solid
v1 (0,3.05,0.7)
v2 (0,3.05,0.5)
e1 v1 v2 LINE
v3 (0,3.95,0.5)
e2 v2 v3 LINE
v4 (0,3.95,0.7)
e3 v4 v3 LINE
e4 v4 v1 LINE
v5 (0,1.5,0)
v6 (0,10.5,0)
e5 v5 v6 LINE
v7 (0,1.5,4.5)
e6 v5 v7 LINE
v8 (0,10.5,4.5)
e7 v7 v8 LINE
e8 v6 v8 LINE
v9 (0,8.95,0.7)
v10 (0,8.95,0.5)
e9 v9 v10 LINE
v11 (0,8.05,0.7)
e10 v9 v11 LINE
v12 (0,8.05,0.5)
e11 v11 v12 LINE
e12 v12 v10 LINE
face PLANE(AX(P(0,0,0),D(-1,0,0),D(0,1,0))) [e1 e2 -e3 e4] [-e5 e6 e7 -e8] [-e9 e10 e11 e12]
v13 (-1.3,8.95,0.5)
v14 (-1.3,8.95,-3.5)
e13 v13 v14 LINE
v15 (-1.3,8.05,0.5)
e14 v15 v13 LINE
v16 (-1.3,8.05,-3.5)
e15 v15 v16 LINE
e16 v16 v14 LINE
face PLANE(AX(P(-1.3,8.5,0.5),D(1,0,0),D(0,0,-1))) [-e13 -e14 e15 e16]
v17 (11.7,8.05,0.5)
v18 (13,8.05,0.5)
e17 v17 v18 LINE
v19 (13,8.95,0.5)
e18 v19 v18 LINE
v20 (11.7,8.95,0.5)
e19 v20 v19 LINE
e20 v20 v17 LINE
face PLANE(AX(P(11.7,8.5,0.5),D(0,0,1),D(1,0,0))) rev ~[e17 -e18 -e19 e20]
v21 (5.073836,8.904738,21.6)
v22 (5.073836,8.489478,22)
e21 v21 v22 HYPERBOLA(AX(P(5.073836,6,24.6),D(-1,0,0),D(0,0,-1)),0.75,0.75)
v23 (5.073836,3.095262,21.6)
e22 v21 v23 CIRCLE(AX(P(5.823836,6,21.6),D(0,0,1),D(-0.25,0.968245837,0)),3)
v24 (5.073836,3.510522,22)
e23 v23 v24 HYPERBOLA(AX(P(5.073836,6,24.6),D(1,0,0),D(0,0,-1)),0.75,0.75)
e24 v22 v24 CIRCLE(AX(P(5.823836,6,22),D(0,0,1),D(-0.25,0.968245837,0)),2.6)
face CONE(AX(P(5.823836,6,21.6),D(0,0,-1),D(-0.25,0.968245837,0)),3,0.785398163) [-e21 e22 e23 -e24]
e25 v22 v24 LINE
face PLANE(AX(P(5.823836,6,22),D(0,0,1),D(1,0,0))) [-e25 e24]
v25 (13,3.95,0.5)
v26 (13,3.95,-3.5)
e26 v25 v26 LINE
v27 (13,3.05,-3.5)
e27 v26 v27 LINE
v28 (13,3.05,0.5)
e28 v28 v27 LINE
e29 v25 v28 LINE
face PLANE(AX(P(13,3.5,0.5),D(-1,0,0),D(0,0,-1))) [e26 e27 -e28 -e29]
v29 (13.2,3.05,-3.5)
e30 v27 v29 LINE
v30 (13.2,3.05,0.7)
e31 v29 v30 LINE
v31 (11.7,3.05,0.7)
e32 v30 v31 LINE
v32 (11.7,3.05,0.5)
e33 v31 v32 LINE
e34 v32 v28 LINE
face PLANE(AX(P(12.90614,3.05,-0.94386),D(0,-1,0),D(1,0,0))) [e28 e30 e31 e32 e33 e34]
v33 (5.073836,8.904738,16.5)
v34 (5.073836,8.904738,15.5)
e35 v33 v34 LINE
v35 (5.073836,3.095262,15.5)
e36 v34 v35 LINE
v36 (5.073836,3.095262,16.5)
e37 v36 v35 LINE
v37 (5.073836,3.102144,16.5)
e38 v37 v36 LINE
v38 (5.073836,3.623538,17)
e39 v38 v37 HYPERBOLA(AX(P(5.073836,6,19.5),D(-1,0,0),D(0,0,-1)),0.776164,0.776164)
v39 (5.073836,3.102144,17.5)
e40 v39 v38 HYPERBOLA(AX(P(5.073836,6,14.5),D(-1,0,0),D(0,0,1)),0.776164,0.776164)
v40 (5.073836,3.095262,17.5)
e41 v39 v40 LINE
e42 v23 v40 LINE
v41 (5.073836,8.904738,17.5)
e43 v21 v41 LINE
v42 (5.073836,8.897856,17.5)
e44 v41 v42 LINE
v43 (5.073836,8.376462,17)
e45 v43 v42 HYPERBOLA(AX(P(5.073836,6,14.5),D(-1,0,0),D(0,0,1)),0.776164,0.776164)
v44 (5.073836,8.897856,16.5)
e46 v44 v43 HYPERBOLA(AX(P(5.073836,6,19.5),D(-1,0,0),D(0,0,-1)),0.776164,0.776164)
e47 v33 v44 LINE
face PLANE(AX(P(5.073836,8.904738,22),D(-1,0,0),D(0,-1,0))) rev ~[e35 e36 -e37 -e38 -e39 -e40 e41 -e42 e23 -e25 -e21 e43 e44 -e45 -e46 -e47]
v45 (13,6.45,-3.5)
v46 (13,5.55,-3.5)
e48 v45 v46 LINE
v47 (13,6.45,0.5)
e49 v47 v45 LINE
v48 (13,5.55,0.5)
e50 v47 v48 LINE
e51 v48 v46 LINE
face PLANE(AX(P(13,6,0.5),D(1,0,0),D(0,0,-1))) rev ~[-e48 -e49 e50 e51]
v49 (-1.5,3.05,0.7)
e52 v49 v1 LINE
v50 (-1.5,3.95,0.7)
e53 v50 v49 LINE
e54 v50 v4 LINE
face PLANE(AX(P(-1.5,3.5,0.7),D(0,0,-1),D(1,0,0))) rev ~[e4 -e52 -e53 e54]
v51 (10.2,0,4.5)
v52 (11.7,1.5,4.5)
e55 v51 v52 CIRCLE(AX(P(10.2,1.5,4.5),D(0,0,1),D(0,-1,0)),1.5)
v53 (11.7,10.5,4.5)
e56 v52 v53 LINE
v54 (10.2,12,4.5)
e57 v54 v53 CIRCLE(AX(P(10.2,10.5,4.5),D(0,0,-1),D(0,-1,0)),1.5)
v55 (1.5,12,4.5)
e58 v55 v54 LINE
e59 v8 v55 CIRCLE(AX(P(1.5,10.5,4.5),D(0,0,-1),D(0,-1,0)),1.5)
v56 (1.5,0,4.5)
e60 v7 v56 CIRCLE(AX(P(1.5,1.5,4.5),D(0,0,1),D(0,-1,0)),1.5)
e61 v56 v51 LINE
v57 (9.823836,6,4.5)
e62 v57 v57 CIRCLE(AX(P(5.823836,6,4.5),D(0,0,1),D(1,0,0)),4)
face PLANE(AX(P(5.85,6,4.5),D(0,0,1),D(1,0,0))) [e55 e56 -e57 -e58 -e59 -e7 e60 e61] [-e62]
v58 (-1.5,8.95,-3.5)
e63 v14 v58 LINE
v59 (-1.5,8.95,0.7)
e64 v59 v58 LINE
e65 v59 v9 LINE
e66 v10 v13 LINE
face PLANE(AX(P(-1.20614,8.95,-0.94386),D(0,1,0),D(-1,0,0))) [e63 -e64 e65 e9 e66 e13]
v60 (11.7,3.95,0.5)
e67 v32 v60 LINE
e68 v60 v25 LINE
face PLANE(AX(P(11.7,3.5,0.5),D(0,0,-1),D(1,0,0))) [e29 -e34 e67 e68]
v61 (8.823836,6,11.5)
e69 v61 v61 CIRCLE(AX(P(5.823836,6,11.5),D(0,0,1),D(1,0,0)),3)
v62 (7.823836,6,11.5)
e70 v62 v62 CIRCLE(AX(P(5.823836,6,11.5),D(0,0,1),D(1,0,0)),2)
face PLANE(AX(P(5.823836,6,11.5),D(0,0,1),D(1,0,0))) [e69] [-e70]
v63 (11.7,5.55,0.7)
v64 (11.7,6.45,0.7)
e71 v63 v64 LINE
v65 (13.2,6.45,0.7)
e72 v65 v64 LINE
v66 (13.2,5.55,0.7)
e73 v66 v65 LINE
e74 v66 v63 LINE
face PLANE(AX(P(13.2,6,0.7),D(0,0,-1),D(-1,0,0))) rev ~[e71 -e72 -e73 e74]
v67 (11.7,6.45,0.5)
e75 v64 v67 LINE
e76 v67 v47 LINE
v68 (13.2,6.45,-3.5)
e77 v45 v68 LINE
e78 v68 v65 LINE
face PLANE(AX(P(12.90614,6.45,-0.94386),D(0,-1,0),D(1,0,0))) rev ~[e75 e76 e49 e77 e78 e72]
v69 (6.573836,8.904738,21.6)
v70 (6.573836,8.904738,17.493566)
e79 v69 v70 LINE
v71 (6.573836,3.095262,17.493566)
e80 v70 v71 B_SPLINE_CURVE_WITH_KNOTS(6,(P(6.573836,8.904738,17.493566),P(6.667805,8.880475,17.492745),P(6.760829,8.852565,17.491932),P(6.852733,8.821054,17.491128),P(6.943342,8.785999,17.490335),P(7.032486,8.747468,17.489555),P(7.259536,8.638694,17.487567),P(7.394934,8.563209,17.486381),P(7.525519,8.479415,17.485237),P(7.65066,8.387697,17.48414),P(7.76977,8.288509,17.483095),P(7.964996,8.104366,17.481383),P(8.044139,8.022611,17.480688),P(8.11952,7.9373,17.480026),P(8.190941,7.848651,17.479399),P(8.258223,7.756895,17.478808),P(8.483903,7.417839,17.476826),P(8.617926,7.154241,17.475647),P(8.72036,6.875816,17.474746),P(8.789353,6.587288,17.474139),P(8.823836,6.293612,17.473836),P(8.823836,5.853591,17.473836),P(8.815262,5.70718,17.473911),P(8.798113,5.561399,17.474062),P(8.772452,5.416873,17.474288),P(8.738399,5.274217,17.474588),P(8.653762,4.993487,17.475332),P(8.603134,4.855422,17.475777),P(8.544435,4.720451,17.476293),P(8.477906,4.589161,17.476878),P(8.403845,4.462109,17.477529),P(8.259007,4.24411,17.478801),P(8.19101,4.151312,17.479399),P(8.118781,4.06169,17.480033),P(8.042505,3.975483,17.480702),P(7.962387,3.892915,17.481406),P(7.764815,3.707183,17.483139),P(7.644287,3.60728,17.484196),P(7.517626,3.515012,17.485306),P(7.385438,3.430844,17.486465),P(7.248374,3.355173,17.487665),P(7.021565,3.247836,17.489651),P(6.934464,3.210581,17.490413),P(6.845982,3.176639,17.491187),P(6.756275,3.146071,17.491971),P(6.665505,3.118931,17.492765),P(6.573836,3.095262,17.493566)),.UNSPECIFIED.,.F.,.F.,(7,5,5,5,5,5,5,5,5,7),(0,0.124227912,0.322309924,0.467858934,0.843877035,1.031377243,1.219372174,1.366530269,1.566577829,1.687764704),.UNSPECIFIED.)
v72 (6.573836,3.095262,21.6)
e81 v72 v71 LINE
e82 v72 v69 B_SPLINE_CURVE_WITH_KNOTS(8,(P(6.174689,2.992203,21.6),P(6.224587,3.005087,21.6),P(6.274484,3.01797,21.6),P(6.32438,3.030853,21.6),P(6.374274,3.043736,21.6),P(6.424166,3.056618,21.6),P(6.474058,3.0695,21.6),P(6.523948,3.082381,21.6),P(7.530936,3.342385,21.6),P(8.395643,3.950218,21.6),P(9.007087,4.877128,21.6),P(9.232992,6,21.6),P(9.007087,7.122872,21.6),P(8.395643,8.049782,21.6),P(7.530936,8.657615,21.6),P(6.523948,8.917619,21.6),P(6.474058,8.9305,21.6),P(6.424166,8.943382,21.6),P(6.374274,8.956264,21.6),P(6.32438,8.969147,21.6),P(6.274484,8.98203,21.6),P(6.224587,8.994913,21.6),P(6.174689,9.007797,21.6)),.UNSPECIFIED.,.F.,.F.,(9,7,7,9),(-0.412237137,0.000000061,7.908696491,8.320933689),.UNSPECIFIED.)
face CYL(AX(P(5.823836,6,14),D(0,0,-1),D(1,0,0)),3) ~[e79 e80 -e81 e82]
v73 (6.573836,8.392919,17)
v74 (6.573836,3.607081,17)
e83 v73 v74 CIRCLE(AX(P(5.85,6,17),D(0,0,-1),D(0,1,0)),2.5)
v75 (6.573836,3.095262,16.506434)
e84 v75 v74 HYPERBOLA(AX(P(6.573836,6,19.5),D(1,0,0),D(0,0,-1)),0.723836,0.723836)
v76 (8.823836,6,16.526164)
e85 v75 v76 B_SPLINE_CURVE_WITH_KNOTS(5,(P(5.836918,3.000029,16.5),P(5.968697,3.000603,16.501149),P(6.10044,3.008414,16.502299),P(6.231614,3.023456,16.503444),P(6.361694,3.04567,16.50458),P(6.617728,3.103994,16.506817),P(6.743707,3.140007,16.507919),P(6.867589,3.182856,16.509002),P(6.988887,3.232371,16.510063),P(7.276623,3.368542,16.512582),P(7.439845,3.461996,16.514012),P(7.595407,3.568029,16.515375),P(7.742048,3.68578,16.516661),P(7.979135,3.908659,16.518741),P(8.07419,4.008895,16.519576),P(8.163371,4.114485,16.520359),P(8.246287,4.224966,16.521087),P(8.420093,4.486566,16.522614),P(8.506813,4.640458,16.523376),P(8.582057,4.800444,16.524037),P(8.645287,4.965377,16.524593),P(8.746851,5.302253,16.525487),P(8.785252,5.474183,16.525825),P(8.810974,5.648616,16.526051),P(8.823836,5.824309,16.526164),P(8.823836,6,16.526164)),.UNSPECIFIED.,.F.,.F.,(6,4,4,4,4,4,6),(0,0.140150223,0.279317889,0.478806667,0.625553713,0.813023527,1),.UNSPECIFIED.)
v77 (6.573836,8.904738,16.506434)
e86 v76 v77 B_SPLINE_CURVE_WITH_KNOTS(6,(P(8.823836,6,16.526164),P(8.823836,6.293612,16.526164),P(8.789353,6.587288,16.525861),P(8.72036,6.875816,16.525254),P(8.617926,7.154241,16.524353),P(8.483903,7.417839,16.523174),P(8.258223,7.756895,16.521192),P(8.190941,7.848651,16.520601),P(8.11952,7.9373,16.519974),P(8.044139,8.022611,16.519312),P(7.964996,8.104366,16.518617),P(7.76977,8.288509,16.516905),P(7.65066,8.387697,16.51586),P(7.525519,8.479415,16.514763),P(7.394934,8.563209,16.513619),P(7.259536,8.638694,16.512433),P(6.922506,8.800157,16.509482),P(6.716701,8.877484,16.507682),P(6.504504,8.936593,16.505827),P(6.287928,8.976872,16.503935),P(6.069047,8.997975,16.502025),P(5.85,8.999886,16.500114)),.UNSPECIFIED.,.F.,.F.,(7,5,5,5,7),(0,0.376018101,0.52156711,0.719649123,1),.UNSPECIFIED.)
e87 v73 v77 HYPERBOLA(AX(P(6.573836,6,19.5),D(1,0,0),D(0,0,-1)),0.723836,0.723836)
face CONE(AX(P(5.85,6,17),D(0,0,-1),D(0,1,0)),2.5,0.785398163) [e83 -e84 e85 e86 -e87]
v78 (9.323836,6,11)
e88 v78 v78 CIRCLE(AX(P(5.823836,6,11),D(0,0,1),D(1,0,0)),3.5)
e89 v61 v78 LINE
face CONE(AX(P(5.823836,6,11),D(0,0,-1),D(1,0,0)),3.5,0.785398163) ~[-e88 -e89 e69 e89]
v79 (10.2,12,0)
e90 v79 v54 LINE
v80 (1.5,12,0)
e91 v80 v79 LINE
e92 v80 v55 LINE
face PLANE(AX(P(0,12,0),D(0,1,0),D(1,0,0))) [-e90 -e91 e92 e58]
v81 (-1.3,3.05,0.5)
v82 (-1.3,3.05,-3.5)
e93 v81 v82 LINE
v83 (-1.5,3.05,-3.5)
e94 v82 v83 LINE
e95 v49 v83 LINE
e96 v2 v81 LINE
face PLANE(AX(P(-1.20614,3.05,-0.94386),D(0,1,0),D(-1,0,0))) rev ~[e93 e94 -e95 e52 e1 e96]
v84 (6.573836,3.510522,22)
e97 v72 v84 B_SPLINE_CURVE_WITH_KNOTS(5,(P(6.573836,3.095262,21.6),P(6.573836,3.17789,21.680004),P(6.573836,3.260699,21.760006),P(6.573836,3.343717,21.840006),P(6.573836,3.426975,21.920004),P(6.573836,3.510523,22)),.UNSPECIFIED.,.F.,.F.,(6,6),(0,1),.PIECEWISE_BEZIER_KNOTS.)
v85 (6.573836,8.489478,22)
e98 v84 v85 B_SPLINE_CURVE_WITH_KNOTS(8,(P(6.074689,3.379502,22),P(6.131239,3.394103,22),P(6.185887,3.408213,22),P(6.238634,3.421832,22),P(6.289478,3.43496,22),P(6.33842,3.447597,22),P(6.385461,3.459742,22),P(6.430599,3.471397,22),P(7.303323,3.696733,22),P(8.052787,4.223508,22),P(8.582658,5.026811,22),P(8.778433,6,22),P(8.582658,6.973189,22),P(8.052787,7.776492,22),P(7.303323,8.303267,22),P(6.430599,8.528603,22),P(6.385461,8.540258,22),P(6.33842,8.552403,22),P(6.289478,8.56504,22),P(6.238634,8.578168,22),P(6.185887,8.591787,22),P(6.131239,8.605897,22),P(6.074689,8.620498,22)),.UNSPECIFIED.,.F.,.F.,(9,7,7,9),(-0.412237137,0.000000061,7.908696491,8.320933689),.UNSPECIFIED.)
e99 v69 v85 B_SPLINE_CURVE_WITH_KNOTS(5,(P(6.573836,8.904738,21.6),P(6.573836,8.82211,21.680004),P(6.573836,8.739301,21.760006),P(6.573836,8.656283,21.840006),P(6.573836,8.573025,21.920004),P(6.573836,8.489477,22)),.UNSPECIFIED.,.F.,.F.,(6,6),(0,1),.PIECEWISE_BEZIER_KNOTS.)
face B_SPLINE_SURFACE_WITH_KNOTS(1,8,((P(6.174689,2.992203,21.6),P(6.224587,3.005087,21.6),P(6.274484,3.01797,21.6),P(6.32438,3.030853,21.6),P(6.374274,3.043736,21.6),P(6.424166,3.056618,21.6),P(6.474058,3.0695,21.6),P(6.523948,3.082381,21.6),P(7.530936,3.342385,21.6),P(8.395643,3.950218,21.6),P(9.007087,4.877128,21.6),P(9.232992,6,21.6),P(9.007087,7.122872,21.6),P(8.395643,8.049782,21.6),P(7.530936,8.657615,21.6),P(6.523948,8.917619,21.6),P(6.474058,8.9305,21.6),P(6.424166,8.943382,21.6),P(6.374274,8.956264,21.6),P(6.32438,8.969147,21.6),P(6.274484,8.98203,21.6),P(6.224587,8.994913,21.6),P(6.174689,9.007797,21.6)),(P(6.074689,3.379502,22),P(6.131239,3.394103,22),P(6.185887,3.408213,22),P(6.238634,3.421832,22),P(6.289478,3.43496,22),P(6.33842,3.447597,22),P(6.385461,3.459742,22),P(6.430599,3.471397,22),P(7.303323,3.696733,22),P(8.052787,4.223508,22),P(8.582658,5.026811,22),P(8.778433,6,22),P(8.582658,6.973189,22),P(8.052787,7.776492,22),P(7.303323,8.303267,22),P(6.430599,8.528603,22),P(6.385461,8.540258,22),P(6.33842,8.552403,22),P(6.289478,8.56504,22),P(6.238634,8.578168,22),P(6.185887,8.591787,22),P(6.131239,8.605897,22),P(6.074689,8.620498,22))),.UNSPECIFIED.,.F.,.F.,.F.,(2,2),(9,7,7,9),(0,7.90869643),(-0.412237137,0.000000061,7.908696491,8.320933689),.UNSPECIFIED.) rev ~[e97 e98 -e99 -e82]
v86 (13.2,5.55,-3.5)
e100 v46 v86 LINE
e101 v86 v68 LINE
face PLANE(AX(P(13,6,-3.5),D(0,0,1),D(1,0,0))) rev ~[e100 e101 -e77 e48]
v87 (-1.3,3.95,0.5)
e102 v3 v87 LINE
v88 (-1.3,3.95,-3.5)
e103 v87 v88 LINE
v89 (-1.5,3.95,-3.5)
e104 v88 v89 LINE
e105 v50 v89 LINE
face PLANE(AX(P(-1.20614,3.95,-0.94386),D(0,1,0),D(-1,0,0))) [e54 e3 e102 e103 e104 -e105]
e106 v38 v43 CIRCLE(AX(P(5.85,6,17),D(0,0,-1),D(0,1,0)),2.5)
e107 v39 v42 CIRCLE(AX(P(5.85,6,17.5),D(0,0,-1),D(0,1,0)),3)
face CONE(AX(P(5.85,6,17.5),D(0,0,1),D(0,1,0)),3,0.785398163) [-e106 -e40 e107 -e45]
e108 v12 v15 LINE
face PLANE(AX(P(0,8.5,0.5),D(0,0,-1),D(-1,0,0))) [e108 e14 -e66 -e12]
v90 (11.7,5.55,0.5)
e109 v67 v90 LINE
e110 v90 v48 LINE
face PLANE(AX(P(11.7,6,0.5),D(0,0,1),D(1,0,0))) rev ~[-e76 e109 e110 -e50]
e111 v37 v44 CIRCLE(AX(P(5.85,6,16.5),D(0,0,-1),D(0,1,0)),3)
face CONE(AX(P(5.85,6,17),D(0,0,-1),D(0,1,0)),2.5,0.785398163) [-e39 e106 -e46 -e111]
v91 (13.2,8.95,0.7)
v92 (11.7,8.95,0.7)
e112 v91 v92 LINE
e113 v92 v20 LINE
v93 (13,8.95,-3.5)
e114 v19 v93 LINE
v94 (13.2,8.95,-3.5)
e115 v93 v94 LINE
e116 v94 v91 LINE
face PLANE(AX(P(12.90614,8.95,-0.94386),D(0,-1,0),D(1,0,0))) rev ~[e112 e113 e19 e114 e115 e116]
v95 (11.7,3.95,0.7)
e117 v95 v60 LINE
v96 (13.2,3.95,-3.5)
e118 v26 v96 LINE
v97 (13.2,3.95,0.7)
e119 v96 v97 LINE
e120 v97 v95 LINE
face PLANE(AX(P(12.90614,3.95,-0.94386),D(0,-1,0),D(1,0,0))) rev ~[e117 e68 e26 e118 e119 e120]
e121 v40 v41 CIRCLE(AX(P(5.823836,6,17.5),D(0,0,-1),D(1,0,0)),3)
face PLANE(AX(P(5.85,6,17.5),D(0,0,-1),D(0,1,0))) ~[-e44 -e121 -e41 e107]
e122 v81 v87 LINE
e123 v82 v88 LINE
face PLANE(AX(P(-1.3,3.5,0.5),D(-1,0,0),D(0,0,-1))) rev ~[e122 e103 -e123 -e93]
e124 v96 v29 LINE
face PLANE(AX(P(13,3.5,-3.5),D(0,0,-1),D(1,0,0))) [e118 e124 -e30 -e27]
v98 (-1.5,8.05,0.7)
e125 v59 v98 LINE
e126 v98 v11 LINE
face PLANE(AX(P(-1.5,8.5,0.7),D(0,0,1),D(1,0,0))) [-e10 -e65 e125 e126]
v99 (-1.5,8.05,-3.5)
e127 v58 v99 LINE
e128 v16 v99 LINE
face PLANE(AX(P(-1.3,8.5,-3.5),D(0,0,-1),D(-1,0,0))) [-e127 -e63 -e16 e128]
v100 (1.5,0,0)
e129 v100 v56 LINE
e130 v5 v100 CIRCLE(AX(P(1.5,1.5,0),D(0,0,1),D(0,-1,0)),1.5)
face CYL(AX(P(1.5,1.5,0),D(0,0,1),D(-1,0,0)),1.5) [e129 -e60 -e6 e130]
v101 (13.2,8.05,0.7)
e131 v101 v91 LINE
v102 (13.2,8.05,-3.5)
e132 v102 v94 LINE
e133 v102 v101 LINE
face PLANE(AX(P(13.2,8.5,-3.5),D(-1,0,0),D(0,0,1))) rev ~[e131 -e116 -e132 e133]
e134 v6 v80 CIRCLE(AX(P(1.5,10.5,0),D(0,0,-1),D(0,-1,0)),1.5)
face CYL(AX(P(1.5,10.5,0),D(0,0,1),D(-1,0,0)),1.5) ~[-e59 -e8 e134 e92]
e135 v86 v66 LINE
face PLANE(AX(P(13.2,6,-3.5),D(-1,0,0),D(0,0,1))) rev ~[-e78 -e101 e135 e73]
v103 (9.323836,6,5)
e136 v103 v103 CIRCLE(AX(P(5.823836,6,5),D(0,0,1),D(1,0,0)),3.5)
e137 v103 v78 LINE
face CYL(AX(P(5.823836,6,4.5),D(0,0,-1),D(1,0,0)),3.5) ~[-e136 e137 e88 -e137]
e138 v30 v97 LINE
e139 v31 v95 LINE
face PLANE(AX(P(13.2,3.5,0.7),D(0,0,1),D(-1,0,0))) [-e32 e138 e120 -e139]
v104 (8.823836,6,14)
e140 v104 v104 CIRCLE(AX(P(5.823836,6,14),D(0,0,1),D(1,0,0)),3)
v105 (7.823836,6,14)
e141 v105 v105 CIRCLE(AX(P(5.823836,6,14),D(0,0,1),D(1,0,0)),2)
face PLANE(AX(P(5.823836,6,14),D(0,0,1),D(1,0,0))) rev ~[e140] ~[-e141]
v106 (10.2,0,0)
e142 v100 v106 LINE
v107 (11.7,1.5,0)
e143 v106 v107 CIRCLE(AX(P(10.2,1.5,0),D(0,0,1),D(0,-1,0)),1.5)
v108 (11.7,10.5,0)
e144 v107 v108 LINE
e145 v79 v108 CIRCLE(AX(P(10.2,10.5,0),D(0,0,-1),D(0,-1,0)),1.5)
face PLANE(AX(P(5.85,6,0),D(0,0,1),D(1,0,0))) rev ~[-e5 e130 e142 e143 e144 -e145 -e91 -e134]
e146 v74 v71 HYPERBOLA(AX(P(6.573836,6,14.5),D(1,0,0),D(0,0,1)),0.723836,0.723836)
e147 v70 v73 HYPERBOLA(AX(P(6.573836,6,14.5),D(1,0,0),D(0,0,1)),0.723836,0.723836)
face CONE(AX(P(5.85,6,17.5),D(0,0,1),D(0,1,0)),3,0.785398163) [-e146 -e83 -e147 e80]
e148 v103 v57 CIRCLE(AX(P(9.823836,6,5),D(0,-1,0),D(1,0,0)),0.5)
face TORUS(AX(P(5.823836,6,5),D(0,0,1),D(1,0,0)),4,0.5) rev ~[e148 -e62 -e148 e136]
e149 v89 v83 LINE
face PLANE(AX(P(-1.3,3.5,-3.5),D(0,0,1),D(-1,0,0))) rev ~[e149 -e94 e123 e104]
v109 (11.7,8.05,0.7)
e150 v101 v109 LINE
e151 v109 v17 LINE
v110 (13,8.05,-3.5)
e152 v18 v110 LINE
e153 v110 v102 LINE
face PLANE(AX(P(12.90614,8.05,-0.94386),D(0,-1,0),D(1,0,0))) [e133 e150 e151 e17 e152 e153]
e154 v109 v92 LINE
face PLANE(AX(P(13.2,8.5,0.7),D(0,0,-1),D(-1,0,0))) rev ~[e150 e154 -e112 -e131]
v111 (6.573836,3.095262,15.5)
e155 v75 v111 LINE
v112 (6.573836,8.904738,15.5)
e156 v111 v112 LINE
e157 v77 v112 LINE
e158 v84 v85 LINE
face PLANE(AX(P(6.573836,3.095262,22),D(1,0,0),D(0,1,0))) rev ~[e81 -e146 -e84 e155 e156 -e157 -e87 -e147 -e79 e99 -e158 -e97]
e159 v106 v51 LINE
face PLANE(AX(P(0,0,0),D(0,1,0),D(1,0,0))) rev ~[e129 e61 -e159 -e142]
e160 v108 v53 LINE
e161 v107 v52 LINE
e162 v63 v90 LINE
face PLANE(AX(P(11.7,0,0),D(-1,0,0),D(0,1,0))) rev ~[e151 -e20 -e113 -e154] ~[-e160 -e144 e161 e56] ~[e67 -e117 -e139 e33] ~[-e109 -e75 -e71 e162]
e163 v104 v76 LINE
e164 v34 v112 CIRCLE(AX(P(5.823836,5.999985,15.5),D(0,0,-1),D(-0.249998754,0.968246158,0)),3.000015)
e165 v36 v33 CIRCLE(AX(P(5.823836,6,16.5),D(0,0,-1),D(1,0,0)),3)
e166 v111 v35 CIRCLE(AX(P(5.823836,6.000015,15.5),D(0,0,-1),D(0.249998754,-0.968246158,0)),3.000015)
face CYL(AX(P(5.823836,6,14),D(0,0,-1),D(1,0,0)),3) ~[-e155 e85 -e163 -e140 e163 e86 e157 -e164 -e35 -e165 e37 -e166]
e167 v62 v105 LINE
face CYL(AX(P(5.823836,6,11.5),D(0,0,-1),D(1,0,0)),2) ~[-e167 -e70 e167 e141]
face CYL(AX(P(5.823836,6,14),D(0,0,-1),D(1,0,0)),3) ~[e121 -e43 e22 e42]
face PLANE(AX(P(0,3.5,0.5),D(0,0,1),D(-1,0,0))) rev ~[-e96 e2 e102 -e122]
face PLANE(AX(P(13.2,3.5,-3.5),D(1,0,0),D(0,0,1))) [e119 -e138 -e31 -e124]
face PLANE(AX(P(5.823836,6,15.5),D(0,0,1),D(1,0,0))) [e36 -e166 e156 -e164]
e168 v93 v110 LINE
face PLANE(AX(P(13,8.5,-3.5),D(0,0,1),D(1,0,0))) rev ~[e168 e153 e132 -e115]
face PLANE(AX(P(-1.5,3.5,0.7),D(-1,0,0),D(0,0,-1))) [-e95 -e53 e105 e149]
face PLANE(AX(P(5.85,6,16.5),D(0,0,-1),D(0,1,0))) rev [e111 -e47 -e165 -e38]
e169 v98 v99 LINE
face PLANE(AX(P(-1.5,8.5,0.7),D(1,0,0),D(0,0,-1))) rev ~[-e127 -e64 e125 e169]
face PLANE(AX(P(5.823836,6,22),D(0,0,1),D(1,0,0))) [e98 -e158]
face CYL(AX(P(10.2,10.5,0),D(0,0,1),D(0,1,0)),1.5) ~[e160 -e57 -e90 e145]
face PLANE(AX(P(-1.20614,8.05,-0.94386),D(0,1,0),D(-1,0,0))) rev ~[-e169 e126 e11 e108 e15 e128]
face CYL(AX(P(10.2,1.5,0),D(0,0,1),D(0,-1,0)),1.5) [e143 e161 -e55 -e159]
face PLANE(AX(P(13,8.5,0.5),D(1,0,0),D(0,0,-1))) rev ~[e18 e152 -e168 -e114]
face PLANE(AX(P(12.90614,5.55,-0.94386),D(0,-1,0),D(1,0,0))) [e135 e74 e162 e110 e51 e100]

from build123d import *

# Parameters (mm, degrees)
SKETCH_W             = 11.7
SKETCH_H             = 12
PAD_DEPTH            = 4.5
SKETCH001_R          = 3.5
PAD001_DEPTH         = 7
SKETCH002_R          = 2
PAD002_DEPTH         = 2.5
SKETCH004_R          = 3
PAD003_DEPTH         = 8
SKETCH005_W          = 1
SKETCH005_H          = 0.202996
POCKET_DEPTH         = 6.5
CHAMFER_SIZE         = 0.4
CHAMFER001_SIZE      = 0.5
FILLET_R             = 0.5
FILLET001_R          = 1.5
PAD004_DEPTH         = 0.45
PAD004_DEPTH_BACK    = 0.45
LINEARPATTERN_COUNT  = 3
LINEARPATTERN_PITCH  = 2.5
POCKET001_DEPTH      = 1
POCKET001_DEPTH_BACK = 1


with BuildPart() as part:
    # Sketch → Pad (new body)
    with BuildSketch(Plane.XY):
        with Locations((5.85, 6)):
            Rectangle(SKETCH_W, SKETCH_H)
    extrude(amount=PAD_DEPTH)

    # Sketch001 (on Face6 of Pad) → Pad001 (join)
    with BuildSketch(Plane.XY.offset(4.5)):
        with Locations((5.823836, 6)):
            Circle(SKETCH001_R)
    extrude(amount=PAD001_DEPTH)

    # Sketch002 (on Face8 of Pad001) → Pad002 (join)
    with BuildSketch(Plane.XY.offset(11.5)):
        with Locations((5.823836, 6)):
            Circle(SKETCH002_R)
    extrude(amount=PAD002_DEPTH)

    # Sketch004 (on Face10 of Pad002) → Pad003 (join)
    with BuildSketch(Plane.XY.offset(14)):
        with Locations((5.823836, 6)):
            Circle(SKETCH004_R)
    extrude(amount=PAD003_DEPTH)

    # Sketch005 (on DatumPlane) → Groove (revolve, cut)
    with BuildSketch(Plane(origin=(5.85, 6, 2.25), x_dir=(0, 0, -1), z_dir=(1, 0, 0))):
        Polygon((-15.25, 3), (-14.75, 2.5), (-14.25, 3), align=None)
        with Locations((-14.75, 3.101498)):
            Rectangle(SKETCH005_W, SKETCH005_H)
    revolve(axis=Axis((5.85, 6, 2.25), (0, 0, -1)), mode=Mode.SUBTRACT)

    # Sketch006 (on Face17 of Groove) → Pocket (cut)
    with BuildSketch(Plane.XY.offset(22)):
        with BuildLine():
            Line((5.073836, 8.904738), (5.073836, 3.095262))
            ThreePointArc((5.073836, 3.095262), (5.823836, 3), (6.573836, 3.095262))
            Line((6.573836, 3.095262), (6.573836, 8.904738))
            ThreePointArc((6.573836, 8.904738), (5.823836, 9), (5.073836, 8.904738))
        make_face()
    extrude(amount=-POCKET_DEPTH, mode=Mode.SUBTRACT)

    # Chamfer
    chamfer_edges = [part.edges().sort_by_distance(p)[0] for p in [
        (8.195544, 7.837117, 22),
        (8.195544, 4.162883, 22),
        (2.823836, 6, 22),
    ]]
    chamfer(chamfer_edges, length=CHAMFER_SIZE)

    # Chamfer001
    chamfer001_edges = [part.edges().sort_by_distance(p)[0] for p in [
        (2.323836, 6, 11.5),
    ]]
    chamfer(chamfer001_edges, length=CHAMFER001_SIZE)

    # Fillet
    fillet_edges = [part.edges().sort_by_distance(p)[0] for p in [
        (2.323836, 6, 4.5),
    ]]
    fillet(fillet_edges, radius=FILLET_R)

    # Fillet001
    fillet001_edges = [part.edges().sort_by_distance(p)[0] for p in [
        (11.7, 0, 2.25),
        (11.7, 12, 2.25),
        (0, 12, 2.25),
        (0, 0, 2.25),
    ]]
    fillet(fillet001_edges, radius=FILLET001_R)

    # Sketch007 (on DatumPlane) → Pad004 (join, two sides)
    with BuildSketch(Plane(origin=(5.85, 3.5, 2.25), x_dir=(1, 0, 0), z_dir=(0, -1, 0))) as pad004_sk:
        Polygon((5.85, -1.55), (5.85, -1.75), (7.15, -1.75), (7.15, -5.75), (7.35, -5.75), (7.35, -1.75), (7.35, -1.55), align=None)
        Polygon((-5.85, -1.55), (-5.85, -1.75), (-7.15, -1.75), (-7.15, -5.75), (-7.35, -5.75), (-7.35, -1.75), (-7.35, -1.55), align=None)
    pad004 = extrude(amount=PAD004_DEPTH) + extrude(pad004_sk.sketch, amount=-PAD004_DEPTH_BACK)

    # LinearPattern: Pad004 ×3
    with Locations(*[(0, i * LINEARPATTERN_PITCH, 0) for i in range(1, LINEARPATTERN_COUNT)]):
        add(pad004)

    # Sketch008 (on DatumPlane) → Pocket001 (cut, two sides)
    with BuildSketch(Plane(origin=(5.85, 6, 2.25), x_dir=(0, 0, -1), z_dir=(0, -1, 0))) as pocket001_sk:
        Polygon((1.55, -7.35), (1.55, -5.85), (1.75, -5.85), (1.75, -7.15), (5.75, -7.15), (5.75, -7.35), align=None)
    extrude(amount=-POCKET001_DEPTH, mode=Mode.SUBTRACT)
    extrude(pocket001_sk.sketch, amount=POCKET001_DEPTH_BACK, mode=Mode.SUBTRACT)


solid = part.part
